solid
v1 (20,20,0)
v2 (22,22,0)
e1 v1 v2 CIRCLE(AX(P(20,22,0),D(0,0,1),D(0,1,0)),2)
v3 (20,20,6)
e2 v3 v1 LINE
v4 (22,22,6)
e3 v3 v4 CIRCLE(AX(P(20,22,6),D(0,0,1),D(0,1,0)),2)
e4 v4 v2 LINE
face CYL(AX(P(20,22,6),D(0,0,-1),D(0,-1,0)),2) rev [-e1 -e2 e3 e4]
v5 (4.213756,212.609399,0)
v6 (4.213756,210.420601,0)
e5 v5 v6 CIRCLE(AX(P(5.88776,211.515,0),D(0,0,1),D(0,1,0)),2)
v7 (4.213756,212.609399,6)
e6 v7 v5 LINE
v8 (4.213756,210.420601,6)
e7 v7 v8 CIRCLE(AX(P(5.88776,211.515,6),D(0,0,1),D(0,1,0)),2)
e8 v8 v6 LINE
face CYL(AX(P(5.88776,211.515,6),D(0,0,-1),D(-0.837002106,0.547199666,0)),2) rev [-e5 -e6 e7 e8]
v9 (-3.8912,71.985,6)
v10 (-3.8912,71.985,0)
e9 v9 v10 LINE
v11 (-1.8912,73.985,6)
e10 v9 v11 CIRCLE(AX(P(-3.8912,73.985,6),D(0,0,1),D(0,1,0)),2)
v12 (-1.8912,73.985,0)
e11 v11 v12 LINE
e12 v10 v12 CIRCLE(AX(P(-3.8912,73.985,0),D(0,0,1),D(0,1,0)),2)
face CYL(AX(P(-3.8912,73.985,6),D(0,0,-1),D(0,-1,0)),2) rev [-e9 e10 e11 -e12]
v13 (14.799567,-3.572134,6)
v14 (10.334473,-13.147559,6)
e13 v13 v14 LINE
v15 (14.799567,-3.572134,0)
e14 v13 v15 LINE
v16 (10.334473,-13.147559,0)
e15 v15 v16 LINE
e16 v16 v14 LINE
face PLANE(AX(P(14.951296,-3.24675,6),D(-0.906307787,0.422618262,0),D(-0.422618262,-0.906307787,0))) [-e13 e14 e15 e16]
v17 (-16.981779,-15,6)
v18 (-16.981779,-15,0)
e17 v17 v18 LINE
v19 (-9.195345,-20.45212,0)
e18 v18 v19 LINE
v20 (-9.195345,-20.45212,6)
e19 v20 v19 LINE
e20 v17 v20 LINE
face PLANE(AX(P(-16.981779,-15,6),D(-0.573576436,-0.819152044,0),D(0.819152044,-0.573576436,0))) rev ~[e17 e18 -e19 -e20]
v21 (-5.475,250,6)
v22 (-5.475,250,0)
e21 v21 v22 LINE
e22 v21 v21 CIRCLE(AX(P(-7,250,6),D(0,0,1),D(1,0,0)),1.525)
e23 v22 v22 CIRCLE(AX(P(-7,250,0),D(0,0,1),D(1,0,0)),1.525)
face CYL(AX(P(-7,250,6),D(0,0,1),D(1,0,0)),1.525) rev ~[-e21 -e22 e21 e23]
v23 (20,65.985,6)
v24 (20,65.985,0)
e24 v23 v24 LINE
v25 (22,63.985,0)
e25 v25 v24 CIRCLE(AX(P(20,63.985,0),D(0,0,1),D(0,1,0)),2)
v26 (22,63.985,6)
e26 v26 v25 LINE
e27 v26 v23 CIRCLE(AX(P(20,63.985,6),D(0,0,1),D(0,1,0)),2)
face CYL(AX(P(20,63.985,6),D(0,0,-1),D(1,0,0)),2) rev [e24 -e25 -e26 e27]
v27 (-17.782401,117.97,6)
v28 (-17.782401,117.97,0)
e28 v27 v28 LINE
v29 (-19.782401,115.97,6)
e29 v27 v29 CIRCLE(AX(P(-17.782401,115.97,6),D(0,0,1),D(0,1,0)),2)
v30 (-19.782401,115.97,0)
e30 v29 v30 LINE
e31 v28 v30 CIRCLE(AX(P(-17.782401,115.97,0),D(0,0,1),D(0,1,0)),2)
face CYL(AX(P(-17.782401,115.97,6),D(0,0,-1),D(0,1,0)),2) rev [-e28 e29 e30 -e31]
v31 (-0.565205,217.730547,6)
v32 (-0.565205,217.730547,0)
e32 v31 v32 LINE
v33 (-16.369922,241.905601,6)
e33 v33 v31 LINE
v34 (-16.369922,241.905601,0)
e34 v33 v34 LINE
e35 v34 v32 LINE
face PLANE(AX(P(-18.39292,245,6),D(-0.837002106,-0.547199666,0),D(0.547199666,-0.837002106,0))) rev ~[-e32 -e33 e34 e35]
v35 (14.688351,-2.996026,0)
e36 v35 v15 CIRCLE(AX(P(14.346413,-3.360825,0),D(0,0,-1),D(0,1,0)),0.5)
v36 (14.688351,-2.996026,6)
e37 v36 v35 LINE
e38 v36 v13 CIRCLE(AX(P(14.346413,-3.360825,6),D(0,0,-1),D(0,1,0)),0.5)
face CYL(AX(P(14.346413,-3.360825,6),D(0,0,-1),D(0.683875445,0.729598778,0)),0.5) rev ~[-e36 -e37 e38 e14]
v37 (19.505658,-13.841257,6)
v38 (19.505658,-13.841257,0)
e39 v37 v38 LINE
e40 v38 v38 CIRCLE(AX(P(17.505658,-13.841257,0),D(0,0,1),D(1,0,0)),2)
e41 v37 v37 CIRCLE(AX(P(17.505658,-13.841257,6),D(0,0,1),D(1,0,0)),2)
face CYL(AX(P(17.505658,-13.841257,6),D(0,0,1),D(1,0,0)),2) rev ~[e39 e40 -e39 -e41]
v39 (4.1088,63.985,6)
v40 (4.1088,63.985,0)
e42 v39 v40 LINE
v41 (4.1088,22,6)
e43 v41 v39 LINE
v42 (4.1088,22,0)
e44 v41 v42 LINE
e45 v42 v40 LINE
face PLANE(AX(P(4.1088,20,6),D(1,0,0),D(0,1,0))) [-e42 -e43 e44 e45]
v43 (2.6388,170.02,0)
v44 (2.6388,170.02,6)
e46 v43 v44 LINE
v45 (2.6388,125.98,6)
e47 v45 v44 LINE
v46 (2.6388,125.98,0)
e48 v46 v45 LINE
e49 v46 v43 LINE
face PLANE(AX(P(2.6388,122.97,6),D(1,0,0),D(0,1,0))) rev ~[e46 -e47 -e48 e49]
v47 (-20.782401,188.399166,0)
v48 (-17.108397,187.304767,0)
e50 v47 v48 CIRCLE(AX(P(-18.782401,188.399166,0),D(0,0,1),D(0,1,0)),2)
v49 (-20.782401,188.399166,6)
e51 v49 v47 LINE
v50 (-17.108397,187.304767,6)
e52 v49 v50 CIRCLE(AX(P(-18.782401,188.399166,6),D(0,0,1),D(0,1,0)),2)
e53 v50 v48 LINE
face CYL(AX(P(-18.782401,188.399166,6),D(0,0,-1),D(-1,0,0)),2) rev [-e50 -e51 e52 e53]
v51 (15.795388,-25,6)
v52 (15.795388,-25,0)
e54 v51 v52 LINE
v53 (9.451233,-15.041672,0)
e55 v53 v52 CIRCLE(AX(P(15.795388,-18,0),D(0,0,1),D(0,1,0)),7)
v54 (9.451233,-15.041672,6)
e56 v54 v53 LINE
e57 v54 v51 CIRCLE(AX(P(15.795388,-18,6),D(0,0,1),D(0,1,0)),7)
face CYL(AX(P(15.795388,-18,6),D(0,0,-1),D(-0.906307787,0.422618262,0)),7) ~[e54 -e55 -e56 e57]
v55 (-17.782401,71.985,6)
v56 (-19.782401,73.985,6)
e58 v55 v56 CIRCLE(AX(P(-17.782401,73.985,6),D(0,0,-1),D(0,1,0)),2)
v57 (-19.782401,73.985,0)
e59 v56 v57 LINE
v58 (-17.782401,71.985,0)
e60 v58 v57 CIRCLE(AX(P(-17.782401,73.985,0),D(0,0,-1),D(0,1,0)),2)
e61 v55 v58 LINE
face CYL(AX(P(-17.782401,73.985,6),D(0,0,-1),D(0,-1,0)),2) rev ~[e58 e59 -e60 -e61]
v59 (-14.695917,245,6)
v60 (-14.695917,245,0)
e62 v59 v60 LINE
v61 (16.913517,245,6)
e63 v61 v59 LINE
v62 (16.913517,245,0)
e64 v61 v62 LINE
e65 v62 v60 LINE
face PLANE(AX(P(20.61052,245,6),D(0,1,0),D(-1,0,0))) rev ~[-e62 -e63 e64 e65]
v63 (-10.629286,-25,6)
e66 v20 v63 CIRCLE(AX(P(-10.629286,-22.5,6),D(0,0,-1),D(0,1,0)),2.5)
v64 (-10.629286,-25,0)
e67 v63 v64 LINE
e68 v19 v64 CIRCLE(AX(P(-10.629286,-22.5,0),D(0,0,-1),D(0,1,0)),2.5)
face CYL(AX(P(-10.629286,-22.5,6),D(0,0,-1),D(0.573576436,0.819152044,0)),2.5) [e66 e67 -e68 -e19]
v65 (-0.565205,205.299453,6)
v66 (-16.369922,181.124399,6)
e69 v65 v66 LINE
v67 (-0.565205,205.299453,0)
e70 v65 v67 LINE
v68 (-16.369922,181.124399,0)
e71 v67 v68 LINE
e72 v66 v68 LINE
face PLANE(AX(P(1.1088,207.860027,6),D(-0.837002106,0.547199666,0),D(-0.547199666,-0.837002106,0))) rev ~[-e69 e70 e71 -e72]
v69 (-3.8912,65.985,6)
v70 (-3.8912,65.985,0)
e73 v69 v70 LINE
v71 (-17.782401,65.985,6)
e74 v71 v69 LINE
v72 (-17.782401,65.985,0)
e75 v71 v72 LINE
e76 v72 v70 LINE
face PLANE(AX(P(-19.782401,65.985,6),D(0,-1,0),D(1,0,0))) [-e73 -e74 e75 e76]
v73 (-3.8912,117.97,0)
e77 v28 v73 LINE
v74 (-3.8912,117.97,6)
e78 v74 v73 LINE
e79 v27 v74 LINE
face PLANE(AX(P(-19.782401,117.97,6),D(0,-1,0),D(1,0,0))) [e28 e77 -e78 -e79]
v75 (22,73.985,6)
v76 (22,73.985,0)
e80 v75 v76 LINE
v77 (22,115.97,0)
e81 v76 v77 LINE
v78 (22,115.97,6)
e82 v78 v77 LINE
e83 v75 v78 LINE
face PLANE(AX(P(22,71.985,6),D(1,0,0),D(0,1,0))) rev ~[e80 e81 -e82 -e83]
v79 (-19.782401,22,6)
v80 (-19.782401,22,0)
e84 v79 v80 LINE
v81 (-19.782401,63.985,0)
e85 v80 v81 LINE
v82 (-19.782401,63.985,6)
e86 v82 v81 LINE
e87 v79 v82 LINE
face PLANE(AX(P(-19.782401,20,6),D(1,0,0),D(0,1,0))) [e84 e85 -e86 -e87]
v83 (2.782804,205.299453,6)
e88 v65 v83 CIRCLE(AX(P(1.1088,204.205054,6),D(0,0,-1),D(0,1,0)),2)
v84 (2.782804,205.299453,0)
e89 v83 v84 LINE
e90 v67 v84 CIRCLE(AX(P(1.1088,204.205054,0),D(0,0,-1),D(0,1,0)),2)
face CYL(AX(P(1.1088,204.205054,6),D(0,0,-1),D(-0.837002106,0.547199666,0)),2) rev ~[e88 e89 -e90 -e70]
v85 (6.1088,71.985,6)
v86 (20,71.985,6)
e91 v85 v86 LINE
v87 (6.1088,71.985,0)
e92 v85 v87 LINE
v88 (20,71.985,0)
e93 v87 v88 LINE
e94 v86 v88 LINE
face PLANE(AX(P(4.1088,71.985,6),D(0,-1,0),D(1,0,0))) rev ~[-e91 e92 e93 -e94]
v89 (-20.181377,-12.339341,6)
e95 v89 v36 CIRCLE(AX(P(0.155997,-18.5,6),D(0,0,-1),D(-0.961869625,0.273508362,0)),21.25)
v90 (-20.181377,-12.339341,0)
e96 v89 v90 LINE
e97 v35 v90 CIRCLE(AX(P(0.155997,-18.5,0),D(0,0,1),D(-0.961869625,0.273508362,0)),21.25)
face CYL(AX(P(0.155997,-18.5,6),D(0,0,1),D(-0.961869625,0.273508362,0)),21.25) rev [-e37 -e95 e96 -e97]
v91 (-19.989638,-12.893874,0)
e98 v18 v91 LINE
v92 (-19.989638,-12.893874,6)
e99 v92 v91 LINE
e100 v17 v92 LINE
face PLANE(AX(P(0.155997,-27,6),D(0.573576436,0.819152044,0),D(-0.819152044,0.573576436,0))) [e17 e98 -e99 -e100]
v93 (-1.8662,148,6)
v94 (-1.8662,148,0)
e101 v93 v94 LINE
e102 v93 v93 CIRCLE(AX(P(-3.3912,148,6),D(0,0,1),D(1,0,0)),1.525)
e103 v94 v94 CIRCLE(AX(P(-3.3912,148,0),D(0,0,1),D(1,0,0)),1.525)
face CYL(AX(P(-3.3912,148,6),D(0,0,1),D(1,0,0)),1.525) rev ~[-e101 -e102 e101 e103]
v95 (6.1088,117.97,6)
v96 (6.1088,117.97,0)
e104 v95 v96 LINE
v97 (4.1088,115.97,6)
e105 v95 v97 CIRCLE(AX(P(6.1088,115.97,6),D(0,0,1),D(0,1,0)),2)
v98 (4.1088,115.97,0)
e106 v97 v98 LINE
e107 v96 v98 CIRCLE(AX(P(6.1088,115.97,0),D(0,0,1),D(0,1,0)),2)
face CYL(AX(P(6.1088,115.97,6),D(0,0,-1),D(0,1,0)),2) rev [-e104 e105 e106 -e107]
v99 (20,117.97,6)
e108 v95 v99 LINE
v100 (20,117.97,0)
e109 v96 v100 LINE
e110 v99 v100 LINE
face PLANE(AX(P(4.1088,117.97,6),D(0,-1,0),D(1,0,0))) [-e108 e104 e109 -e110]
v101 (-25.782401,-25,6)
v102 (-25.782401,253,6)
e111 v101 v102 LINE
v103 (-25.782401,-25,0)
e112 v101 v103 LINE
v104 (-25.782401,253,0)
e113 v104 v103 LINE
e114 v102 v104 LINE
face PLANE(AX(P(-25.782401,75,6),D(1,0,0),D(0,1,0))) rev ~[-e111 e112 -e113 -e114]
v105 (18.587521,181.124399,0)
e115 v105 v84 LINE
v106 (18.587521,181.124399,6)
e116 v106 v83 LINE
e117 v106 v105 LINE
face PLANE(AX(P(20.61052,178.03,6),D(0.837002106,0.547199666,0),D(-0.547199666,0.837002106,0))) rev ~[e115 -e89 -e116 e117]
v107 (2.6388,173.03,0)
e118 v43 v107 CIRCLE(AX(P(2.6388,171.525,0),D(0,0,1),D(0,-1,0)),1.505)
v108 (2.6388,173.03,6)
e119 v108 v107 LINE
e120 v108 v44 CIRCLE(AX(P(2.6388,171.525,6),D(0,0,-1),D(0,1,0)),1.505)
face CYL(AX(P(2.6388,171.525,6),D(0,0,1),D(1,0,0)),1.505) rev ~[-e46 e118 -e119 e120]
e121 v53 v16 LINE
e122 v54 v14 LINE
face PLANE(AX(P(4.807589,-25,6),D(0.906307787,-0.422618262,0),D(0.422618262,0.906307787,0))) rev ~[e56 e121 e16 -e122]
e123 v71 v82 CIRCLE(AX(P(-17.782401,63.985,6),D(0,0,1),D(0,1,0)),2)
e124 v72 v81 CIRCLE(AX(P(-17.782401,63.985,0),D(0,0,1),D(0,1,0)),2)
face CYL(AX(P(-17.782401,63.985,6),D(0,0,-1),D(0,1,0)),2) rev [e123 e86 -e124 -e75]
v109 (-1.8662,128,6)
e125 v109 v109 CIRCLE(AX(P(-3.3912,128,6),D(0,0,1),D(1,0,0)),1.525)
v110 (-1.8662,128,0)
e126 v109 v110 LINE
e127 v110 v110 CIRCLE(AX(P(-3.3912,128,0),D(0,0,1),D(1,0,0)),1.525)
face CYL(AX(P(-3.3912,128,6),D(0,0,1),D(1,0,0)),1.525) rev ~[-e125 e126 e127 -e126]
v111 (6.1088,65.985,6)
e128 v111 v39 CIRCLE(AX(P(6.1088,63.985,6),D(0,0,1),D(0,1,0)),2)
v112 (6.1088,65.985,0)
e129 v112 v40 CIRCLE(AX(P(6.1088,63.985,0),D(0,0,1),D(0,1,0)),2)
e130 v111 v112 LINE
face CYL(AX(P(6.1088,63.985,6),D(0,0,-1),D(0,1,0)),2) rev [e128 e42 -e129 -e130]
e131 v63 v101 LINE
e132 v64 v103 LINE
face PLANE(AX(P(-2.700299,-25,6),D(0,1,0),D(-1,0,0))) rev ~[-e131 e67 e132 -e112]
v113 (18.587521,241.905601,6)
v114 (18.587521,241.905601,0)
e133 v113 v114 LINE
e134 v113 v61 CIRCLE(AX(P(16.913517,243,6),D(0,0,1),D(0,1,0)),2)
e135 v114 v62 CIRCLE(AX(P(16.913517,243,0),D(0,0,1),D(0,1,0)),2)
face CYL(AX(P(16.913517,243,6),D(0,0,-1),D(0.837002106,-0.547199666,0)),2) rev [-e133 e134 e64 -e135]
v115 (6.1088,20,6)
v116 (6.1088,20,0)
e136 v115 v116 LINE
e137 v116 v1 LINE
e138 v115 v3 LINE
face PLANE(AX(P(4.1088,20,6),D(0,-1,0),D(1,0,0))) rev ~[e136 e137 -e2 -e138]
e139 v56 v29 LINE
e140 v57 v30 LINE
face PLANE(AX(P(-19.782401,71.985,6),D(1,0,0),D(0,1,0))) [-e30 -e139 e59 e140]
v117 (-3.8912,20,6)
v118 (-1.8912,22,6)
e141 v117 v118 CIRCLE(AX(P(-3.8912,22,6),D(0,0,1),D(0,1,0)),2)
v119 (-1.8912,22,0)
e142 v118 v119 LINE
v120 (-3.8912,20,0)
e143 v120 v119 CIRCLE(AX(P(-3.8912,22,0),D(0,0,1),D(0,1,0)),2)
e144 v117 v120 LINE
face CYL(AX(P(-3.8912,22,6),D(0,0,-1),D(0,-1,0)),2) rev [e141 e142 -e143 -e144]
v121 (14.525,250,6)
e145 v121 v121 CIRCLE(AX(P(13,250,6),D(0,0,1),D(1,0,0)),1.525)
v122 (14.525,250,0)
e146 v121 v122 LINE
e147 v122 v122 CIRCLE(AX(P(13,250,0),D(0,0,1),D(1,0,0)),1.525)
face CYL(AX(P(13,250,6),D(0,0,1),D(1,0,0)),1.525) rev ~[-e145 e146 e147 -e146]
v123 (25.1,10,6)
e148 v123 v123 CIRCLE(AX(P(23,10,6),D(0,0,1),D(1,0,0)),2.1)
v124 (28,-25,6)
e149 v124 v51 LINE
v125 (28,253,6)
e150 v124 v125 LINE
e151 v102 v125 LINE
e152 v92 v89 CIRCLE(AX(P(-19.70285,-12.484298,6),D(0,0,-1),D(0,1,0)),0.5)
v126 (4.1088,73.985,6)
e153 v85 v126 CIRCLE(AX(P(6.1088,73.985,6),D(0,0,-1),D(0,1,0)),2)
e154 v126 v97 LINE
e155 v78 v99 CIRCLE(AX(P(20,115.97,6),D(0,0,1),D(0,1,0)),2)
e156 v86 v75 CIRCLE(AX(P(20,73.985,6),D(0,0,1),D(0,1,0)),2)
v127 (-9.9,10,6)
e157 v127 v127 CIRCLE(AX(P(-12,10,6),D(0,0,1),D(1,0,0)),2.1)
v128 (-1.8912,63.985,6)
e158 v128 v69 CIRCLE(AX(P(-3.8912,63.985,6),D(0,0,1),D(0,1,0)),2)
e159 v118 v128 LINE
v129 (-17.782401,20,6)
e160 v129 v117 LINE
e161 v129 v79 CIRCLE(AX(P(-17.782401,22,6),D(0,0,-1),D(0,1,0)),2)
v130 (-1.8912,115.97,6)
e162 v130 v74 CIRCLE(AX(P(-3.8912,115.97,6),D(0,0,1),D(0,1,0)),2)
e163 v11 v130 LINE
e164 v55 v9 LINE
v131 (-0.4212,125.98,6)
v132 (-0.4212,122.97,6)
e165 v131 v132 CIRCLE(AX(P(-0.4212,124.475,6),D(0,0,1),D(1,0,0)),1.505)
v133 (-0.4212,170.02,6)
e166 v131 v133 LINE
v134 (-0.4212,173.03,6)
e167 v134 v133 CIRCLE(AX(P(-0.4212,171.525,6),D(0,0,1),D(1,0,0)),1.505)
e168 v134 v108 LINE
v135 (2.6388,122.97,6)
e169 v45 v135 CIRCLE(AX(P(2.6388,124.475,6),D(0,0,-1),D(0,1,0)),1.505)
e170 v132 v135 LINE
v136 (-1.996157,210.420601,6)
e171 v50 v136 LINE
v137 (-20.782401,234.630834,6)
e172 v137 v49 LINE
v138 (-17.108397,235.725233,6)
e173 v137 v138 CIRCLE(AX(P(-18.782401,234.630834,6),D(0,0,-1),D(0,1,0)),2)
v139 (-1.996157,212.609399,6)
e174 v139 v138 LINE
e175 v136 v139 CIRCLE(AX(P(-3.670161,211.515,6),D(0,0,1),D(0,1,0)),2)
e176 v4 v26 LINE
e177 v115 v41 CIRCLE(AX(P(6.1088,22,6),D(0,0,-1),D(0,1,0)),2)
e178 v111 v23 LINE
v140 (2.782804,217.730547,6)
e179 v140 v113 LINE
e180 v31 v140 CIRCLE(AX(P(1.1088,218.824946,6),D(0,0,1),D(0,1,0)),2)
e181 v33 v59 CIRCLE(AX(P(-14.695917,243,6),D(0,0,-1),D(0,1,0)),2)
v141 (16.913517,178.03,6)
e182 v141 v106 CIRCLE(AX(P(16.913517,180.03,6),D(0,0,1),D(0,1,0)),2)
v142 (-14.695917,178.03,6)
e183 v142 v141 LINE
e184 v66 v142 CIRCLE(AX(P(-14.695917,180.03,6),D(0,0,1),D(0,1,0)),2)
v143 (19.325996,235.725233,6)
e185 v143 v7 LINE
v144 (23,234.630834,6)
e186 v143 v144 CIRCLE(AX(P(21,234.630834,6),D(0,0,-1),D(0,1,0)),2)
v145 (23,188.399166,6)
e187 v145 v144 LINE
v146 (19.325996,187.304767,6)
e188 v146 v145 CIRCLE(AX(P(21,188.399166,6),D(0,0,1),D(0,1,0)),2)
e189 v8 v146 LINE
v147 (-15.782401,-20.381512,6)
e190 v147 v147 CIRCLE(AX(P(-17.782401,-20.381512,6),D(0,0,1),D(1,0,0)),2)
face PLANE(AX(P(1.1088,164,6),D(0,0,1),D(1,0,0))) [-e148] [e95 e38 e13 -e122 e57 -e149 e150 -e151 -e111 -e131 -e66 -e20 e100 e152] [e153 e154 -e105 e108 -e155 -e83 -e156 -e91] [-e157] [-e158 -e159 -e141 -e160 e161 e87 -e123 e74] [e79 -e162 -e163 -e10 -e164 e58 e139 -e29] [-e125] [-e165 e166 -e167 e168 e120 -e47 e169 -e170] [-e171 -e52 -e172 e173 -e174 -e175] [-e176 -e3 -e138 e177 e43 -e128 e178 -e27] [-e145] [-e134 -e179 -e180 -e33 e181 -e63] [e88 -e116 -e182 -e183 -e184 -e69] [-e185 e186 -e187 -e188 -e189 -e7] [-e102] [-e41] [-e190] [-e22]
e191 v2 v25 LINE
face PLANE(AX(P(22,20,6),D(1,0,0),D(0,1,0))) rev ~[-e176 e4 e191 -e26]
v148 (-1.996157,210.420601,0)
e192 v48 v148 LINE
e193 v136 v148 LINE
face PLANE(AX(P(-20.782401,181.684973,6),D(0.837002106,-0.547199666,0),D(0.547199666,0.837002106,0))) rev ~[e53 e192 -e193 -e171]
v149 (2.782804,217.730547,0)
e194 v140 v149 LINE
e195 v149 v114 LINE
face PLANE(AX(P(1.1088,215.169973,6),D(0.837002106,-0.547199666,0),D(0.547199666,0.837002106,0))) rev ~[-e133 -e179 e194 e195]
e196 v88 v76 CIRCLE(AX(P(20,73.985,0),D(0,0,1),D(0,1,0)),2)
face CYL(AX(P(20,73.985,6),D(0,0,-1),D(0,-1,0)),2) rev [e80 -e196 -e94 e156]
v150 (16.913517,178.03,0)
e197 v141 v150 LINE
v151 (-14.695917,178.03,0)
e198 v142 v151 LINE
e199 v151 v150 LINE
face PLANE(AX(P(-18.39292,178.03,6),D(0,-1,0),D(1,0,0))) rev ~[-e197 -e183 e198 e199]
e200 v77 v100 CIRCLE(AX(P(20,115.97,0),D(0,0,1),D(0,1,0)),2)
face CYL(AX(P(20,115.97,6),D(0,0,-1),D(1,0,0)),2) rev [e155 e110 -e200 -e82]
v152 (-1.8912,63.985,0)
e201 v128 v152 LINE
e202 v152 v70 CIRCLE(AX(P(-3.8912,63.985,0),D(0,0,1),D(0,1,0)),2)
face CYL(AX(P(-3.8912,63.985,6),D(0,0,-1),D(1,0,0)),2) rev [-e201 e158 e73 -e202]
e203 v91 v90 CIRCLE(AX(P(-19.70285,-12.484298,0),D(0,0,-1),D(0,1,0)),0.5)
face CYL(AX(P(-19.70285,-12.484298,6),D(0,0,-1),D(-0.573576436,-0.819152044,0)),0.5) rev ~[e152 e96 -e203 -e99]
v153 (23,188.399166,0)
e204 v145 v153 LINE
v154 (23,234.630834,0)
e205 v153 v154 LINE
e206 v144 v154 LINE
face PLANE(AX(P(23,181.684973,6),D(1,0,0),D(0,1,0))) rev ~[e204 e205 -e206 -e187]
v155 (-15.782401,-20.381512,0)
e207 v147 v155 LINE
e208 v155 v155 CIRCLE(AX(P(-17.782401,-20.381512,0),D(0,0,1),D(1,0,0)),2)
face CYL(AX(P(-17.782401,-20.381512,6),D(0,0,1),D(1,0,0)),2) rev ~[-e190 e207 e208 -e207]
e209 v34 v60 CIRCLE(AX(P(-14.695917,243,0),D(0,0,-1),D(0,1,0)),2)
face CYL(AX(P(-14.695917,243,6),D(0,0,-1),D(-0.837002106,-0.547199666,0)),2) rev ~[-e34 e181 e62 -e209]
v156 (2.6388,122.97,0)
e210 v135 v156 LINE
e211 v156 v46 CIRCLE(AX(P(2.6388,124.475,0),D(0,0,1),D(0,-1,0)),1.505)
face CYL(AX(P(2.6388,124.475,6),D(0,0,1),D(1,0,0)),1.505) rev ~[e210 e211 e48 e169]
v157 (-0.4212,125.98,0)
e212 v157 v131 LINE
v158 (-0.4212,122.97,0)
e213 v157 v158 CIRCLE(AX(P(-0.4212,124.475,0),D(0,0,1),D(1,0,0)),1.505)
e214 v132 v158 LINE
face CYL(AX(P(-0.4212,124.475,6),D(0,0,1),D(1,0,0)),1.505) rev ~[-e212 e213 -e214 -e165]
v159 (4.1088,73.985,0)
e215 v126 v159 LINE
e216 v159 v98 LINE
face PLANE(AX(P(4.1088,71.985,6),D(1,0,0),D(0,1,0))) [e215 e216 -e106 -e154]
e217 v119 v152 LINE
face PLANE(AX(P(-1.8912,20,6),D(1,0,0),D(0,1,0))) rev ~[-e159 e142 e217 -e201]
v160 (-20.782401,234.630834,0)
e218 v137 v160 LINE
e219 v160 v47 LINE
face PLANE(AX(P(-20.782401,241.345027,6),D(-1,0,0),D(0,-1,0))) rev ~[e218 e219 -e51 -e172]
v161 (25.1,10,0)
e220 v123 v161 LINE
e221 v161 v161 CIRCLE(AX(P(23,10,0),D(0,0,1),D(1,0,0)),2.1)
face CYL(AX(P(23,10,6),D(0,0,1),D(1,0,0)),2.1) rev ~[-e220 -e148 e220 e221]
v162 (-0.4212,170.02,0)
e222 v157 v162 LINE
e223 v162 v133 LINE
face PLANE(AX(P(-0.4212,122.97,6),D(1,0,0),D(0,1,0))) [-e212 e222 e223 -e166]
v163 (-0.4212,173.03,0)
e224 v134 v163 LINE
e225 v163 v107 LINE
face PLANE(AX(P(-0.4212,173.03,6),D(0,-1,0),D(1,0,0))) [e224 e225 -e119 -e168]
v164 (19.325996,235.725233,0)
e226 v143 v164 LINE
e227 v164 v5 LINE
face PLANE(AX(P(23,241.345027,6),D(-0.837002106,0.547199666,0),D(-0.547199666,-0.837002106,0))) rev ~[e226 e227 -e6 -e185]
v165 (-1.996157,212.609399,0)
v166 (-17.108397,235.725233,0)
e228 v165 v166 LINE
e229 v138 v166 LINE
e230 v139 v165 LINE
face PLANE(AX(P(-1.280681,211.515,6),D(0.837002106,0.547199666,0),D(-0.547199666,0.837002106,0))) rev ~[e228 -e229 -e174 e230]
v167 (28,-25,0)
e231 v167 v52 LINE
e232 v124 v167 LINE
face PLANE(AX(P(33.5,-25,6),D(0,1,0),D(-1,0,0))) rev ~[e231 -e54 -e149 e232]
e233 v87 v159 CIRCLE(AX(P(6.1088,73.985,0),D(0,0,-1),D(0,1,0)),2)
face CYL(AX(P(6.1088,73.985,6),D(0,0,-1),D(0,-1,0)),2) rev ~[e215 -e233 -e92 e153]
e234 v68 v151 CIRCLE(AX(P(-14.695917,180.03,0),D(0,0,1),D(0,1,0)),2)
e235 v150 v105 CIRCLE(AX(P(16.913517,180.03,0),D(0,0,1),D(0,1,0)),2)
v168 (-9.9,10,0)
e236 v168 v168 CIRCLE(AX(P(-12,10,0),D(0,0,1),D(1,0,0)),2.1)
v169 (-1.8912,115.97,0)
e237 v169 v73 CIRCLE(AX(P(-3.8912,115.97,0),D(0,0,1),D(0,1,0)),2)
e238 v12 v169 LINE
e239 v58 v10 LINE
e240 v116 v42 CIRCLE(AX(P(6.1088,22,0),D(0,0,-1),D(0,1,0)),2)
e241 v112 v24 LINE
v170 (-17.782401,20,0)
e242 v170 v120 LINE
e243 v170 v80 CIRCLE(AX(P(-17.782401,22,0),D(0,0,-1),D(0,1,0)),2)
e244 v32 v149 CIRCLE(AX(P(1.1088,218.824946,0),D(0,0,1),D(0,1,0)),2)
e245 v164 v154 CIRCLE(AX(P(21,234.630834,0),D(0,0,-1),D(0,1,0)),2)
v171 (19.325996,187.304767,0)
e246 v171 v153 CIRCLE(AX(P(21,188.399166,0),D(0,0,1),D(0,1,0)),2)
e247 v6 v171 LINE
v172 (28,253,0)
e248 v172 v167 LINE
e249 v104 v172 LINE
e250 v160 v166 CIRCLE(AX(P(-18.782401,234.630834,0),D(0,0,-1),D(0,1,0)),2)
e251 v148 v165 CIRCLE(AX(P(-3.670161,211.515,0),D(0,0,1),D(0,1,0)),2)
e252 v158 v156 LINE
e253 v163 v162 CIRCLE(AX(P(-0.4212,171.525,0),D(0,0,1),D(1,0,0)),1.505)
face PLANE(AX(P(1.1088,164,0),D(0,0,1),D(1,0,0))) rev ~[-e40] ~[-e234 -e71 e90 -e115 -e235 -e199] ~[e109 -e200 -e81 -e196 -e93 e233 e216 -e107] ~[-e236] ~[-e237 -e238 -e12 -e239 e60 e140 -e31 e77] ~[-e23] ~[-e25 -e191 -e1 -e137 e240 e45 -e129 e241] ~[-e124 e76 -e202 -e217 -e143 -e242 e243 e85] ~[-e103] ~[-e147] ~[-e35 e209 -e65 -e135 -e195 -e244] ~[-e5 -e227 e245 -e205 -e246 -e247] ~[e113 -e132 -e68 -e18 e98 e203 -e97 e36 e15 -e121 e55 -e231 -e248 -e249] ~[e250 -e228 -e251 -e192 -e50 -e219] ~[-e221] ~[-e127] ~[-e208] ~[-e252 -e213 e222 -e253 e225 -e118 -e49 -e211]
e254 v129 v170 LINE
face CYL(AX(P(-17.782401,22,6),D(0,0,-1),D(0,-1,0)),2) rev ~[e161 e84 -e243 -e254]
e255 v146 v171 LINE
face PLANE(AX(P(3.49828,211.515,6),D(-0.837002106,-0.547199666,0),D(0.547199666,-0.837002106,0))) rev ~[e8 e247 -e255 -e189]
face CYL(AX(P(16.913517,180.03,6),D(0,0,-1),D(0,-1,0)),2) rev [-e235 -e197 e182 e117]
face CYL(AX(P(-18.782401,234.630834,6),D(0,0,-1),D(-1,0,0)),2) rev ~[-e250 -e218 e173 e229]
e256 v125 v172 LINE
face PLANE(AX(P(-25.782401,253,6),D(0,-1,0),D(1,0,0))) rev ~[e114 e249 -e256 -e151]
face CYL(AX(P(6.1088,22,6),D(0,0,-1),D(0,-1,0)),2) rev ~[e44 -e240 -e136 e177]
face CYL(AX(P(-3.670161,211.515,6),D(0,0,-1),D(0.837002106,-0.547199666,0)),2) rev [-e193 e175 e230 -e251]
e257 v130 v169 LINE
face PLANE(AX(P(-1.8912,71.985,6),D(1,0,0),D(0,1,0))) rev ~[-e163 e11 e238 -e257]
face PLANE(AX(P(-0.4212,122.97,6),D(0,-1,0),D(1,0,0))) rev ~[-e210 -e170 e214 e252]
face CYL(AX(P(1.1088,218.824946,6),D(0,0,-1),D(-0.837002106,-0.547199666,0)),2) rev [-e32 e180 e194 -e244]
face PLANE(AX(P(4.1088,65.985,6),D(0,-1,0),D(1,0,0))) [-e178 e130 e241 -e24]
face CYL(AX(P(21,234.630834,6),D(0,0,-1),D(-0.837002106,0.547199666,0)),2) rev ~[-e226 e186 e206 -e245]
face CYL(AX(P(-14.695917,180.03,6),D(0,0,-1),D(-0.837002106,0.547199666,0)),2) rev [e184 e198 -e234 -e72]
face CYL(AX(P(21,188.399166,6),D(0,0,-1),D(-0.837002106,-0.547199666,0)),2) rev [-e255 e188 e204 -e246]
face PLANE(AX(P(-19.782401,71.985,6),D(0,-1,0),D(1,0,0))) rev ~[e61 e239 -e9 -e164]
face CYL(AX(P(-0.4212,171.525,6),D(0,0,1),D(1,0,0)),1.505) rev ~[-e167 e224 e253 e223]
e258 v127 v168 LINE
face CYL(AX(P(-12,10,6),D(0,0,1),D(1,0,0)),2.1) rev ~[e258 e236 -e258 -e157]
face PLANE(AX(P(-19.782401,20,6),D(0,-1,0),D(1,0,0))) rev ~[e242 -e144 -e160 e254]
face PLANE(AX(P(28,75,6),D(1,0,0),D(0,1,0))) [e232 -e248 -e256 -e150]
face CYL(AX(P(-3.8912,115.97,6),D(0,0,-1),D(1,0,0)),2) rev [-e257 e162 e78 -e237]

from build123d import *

# Parameters (mm, degrees)
SKETCH_1_W            = 67
SKETCH_1_H            = 30
EXTRUDE_1_DEPTH       = 6
SKETCH_3_R            = 11.5
CUT_EXTRUDE_1_DEPTH   = 7
CUT_EXTRUDE_2_DEPTH   = 35
EXTRUDE_2_DEPTH       = 6
FILLET_1_R            = 2.5
FILLET_3_R            = 0.5
FILLET_4_R            = 7
SKETCH_6_R            = 2
CUT_EXTRUDE_3_DEPTH   = 7
EXTRUDE_3_DEPTH       = 6
CUT_EXTRUDE_4_DEPTH   = 7
EXTRUDE_4_DEPTH       = 6
SKETCH_10_R           = 2.1
CUT_EXTRUDE_5_DEPTH   = 7
FILLET_5_R            = 5
SKETCH_11_R           = 1.6
CUT_EXTRUDE_6_DEPTH   = 7
CUT_EXTRUDE_7_DEPTH   = 10
FILLET_6_R            = 2
SKETCH_13_OUTSIDE_W   = 121.737
SKETCH_13_OUTSIDE_H   = 129.266
SKETCH_13_OUTSIDE_W_2 = 53.782400736
SKETCH_13_OUTSIDE_H_2 = 120
CUT_EXTRUDE_8_DEPTH   = 10
EXTRUDE_5_DEPTH       = 6
SKETCH_15_W           = 53.782400736
SKETCH_15_H           = 178
EXTRUDE_6_DEPTH       = 6
SKETCH_16_R           = 1.525
CUT_EXTRUDE_9_DEPTH   = 10
SKETCH_17_W           = 3.06
SKETCH_17_H           = 50.06
CUT_EXTRUDE_10_DEPTH  = 6
SKETCH_18_R           = 1.505
CUT_EXTRUDE_11_DEPTH  = 6
SKETCH_19_R           = 1.525
CUT_EXTRUDE_12_DEPTH  = 6
SKETCH_20_W           = 17.891200368
SKETCH_20_H           = 45.985
CUT_EXTRUDE_13_DEPTH  = 10
FILLET_7_R            = 2


with BuildPart() as part:
    # 草图1 → 凸台-拉伸1 (new body)
    with BuildSketch(Plane.XY):
        Rectangle(SKETCH_1_W, SKETCH_1_H)
    extrude(amount=EXTRUDE_1_DEPTH)

    # 草图3 → 切除-拉伸1 (cut, through all)
    with BuildSketch(Plane.XY.offset(6)):
        with Locations((0.155997342, -18.5)):
            Circle(SKETCH_3_R)
    extrude(amount=-CUT_EXTRUDE_1_DEPTH, mode=Mode.SUBTRACT)

    # 草图4 → 切除-拉伸2 (cut)
    with BuildSketch(Plane.XY.offset(6)):
        with BuildLine():
            Line((14.951296016, -3.246749948), (0.155997342, -34.975370344))
            Line((0.155997342, -34.975370344), (0.155997342, -27))
            Line((0.155997342, -27), (-20.283732192, -12.687947301))
            ThreePointArc((-20.283732192, -12.687947301), (-5.343907366, 2.025923809), (14.951296016, -3.246749948))
        make_face()
    extrude(amount=-CUT_EXTRUDE_2_DEPTH, mode=Mode.SUBTRACT)

    # 草图5 → 凸台-拉伸2 (add)
    with BuildSketch(Plane.XY.offset(6)):
        Polygon((-16.981778738, -15), (-2.700298671, -25), (-33.5, -25), (-33.5, -15), align=None)
        Polygon((33.5, -15), (33.5, -25), (4.807588927, -25), (10.334473164, -13.147558505), align=None)
    extrude(amount=-EXTRUDE_2_DEPTH)

    # 圆角1
    fillet_1_edges = [part.edges().sort_by_distance(p)[0] for p in [
        (-2.700298671, -25, 3),
    ]]
    fillet(fillet_1_edges, radius=FILLET_1_R)

    # 圆角3
    fillet_3_edges = [part.edges().sort_by_distance(p)[0] for p in [
        (-20.283732192, -12.687947301, 3),
        (14.951296016, -3.246749948, 3),
    ]]
    fillet(fillet_3_edges, radius=FILLET_3_R)

    # 圆角4
    fillet_4_edges = [part.edges().sort_by_distance(p)[0] for p in [
        (4.807588927, -25, 3),
    ]]
    fillet(fillet_4_edges, radius=FILLET_4_R)

    # 草图6 → 切除-拉伸3 (cut, through all)
    with BuildSketch(Plane.XY.offset(6)):
        with Locations((17.505658254, -13.841257188)):
            Circle(SKETCH_6_R)
        with Locations((-17.782400736, -20.381512339)):
            Circle(SKETCH_6_R)
    extrude(amount=-CUT_EXTRUDE_3_DEPTH, mode=Mode.SUBTRACT)

    # 草图7 → 凸台-拉伸3 (add)
    with BuildSketch(Plane.XY.offset(6)):
        Polygon((60.5, 75), (14.5, 75), (-16.303792618, 15), (33.5, 15), align=None)
    extrude(amount=-EXTRUDE_3_DEPTH)

    # 草图8 → 切除-拉伸4 (cut, through all)
    with BuildSketch(Plane.XY.offset(6)):
        Polygon((-16.303792618, 15), (-33.5, -18.49498082), (-33.5, 15), align=None)
    extrude(amount=-CUT_EXTRUDE_4_DEPTH, mode=Mode.SUBTRACT)

    # 草图9 → 凸台-拉伸4 (add)
    with BuildSketch(Plane.XY.offset(6)):
        Polygon((60.5, 75), (33.5, -25), (33.5, 15), align=None)
    extrude(amount=-EXTRUDE_4_DEPTH)

    # 草图10 → 切除-拉伸5 (cut, through all)
    with BuildSketch(Plane.XY.offset(6)):
        with Locations((-12, 10)):
            Circle(SKETCH_10_R)
        with Locations((23, 10)):
            Circle(SKETCH_10_R)
    extrude(amount=-CUT_EXTRUDE_5_DEPTH, mode=Mode.SUBTRACT)

    # 圆角5
    fillet_5_edges = [part.edges().sort_by_distance(p)[0] for p in [
        (60.5, 75, 3),
        (14.5, 75, 3),
    ]]
    fillet(fillet_5_edges, radius=FILLET_5_R)

    # 草图11 → 切除-拉伸6 (cut, through all)
    with BuildSketch(Plane.XY.offset(6)):
        with Locations((42.500000039, 67)):
            Circle(SKETCH_11_R)
        with Locations((22.500000039, 67)):
            Circle(SKETCH_11_R)
    extrude(amount=-CUT_EXTRUDE_6_DEPTH, mode=Mode.SUBTRACT)

    # 草图12 → 切除-拉伸7 (cut)
    with BuildSketch(Plane.XY.offset(6)):
        Polygon((33.412019277, 64), (31.452414539, 20), (29.670955687, -20), (52.350955687, 64), align=None)
        Polygon((28.047412755, 55.924590701), (-1.630833947, 20), (26.447458252, 20), align=None)
        Polygon((14.473082867, 64), (-8.116365053, 20), (28.233189094, 64), align=None)
    extrude(amount=-CUT_EXTRUDE_7_DEPTH, mode=Mode.SUBTRACT)

    # 圆角6
    fillet_6_edges = [part.edges().sort_by_distance(p)[0] for p in [
        (29.670955687, -20, 3),
        (33.412019277, 64, 3),
        (52.350955687, 64, 3),
        (14.473082867, 64, 3),
        (28.233189094, 64, 3),
        (-8.116365053, 20, 3),
        (28.047412755, 55.924590701, 3),
        (26.447458252, 20, 3),
        (-1.630833947, 20, 3),
    ]]
    fillet(fillet_6_edges, radius=FILLET_6_R)

    # 草图13 outside → 切除-拉伸8 (cut)
    with BuildSketch(Plane.XY.offset(6)):
        with Locations((12.7355, 25)):
            Rectangle(SKETCH_13_OUTSIDE_W, SKETCH_13_OUTSIDE_H)
        with Locations((1.108799632, 35)):
            Rectangle(SKETCH_13_OUTSIDE_W_2, SKETCH_13_OUTSIDE_H_2, mode=Mode.SUBTRACT)
    extrude(amount=-CUT_EXTRUDE_8_DEPTH, mode=Mode.SUBTRACT)

    # 草图14 → 凸台-拉伸5 (add)
    with BuildSketch(Plane.XY.offset(6)):
        Polygon((-25.782400736, -3.462547587), (-25.782400736, 75), (28, 75), (28, 15), (-16.303792618, 15), align=None)
    extrude(amount=-EXTRUDE_5_DEPTH)

    # 草图15 → 凸台-拉伸6 (add)
    with BuildSketch(Plane.XY.offset(6)):
        with Locations((1.108799632, 164)):
            Rectangle(SKETCH_15_W, SKETCH_15_H)
    extrude(amount=-EXTRUDE_6_DEPTH)

    # 草图16 → 切除-拉伸9 (cut)
    with BuildSketch(Plane.XY.offset(6)):
        with Locations((-7, 250)):
            Circle(SKETCH_16_R)
        with Locations((13, 250)):
            Circle(SKETCH_16_R)
    extrude(amount=-CUT_EXTRUDE_9_DEPTH, mode=Mode.SUBTRACT)

    # 草图17 → 切除-拉伸10 (cut)
    with BuildSketch(Plane.XY.offset(6)):
        with Locations((1.108799632, 148)):
            Rectangle(SKETCH_17_W, SKETCH_17_H)
    extrude(amount=-CUT_EXTRUDE_10_DEPTH, mode=Mode.SUBTRACT)

    # 草图18 → 切除-拉伸11 (cut)
    with BuildSketch(Plane.XY.offset(6)):
        with Locations((2.638799632, 124.475)):
            Circle(SKETCH_18_R)
        with Locations((-0.421200368, 124.475)):
            Circle(SKETCH_18_R)
        with Locations((-0.421200368, 171.525)):
            Circle(SKETCH_18_R)
        with Locations((2.638799632, 171.525)):
            Circle(SKETCH_18_R)
    extrude(amount=-CUT_EXTRUDE_11_DEPTH, mode=Mode.SUBTRACT)

    # 草图19 → 切除-拉伸12 (cut)
    with BuildSketch(Plane.XY.offset(6)):
        with Locations((-3.391200368, 148)):
            Circle(SKETCH_19_R)
        with Locations((-3.391200368, 128)):
            Circle(SKETCH_19_R)
    extrude(amount=-CUT_EXTRUDE_12_DEPTH, mode=Mode.SUBTRACT)

    # 草图20 → 切除-拉伸13 (cut)
    with BuildSketch(Plane.XY.offset(6)):
        with Locations((13.054399816, 94.9775)):
            Rectangle(SKETCH_20_W, SKETCH_20_H)
        with Locations((13.054399816, 42.9925)):
            Rectangle(SKETCH_20_W, SKETCH_20_H)
        with Locations((-10.836800552, 42.9925)):
            Rectangle(SKETCH_20_W, SKETCH_20_H)
        with Locations((-10.836800552, 94.9775)):
            Rectangle(SKETCH_20_W, SKETCH_20_H)
        Polygon((1.108799632, 207.860027008), (-18.392920488, 178.03), (20.610519752, 178.03), align=None)
        Polygon((23, 241.345027008), (3.49827988, 211.515), (23, 181.684972992), align=None)
        Polygon((-20.782400736, 241.345027008), (-20.782400736, 181.684972992), (-1.280680616, 211.515), align=None)
        Polygon((-18.392920488, 245), (1.108799632, 215.169972992), (20.610519752, 245), align=None)
    extrude(amount=-CUT_EXTRUDE_13_DEPTH, mode=Mode.SUBTRACT)

    # 圆角7
    fillet_7_edges = [part.edges().sort_by_distance(p)[0] for p in [
        (4.108799632, 65.985, 3),
        (22, 65.985, 3),
        (22, 20, 3),
        (4.108799632, 20, 3),
        (-1.891200368, 65.985, 3),
        (-1.891200368, 20, 3),
        (-19.782400736, 20, 3),
        (-19.782400736, 65.985, 3),
        (-19.782400736, 71.985, 3),
        (-19.782400736, 117.97, 3),
        (-1.891200368, 117.97, 3),
        (-1.891200368, 71.985, 3),
        (1.108799632, 207.860027008, 3),
        (20.610519752, 178.03, 3),
        (-18.392920488, 178.03, 3),
        (-18.392920488, 245, 3),
        (20.610519752, 245, 3),
        (1.108799632, 215.169972992, 3),
        (-20.782400736, 181.684972992, 3),
        (-20.782400736, 241.345027008, 3),
        (-1.280680616, 211.515, 3),
        (3.49827988, 211.515, 3),
        (23, 241.345027008, 3),
        (23, 181.684972992, 3),
        (4.108799632, 117.97, 3),
        (22, 117.97, 3),
        (22, 71.985, 3),
        (4.108799632, 71.985, 3),
    ]]
    fillet(fillet_7_edges, radius=FILLET_7_R)


solid = part.part
